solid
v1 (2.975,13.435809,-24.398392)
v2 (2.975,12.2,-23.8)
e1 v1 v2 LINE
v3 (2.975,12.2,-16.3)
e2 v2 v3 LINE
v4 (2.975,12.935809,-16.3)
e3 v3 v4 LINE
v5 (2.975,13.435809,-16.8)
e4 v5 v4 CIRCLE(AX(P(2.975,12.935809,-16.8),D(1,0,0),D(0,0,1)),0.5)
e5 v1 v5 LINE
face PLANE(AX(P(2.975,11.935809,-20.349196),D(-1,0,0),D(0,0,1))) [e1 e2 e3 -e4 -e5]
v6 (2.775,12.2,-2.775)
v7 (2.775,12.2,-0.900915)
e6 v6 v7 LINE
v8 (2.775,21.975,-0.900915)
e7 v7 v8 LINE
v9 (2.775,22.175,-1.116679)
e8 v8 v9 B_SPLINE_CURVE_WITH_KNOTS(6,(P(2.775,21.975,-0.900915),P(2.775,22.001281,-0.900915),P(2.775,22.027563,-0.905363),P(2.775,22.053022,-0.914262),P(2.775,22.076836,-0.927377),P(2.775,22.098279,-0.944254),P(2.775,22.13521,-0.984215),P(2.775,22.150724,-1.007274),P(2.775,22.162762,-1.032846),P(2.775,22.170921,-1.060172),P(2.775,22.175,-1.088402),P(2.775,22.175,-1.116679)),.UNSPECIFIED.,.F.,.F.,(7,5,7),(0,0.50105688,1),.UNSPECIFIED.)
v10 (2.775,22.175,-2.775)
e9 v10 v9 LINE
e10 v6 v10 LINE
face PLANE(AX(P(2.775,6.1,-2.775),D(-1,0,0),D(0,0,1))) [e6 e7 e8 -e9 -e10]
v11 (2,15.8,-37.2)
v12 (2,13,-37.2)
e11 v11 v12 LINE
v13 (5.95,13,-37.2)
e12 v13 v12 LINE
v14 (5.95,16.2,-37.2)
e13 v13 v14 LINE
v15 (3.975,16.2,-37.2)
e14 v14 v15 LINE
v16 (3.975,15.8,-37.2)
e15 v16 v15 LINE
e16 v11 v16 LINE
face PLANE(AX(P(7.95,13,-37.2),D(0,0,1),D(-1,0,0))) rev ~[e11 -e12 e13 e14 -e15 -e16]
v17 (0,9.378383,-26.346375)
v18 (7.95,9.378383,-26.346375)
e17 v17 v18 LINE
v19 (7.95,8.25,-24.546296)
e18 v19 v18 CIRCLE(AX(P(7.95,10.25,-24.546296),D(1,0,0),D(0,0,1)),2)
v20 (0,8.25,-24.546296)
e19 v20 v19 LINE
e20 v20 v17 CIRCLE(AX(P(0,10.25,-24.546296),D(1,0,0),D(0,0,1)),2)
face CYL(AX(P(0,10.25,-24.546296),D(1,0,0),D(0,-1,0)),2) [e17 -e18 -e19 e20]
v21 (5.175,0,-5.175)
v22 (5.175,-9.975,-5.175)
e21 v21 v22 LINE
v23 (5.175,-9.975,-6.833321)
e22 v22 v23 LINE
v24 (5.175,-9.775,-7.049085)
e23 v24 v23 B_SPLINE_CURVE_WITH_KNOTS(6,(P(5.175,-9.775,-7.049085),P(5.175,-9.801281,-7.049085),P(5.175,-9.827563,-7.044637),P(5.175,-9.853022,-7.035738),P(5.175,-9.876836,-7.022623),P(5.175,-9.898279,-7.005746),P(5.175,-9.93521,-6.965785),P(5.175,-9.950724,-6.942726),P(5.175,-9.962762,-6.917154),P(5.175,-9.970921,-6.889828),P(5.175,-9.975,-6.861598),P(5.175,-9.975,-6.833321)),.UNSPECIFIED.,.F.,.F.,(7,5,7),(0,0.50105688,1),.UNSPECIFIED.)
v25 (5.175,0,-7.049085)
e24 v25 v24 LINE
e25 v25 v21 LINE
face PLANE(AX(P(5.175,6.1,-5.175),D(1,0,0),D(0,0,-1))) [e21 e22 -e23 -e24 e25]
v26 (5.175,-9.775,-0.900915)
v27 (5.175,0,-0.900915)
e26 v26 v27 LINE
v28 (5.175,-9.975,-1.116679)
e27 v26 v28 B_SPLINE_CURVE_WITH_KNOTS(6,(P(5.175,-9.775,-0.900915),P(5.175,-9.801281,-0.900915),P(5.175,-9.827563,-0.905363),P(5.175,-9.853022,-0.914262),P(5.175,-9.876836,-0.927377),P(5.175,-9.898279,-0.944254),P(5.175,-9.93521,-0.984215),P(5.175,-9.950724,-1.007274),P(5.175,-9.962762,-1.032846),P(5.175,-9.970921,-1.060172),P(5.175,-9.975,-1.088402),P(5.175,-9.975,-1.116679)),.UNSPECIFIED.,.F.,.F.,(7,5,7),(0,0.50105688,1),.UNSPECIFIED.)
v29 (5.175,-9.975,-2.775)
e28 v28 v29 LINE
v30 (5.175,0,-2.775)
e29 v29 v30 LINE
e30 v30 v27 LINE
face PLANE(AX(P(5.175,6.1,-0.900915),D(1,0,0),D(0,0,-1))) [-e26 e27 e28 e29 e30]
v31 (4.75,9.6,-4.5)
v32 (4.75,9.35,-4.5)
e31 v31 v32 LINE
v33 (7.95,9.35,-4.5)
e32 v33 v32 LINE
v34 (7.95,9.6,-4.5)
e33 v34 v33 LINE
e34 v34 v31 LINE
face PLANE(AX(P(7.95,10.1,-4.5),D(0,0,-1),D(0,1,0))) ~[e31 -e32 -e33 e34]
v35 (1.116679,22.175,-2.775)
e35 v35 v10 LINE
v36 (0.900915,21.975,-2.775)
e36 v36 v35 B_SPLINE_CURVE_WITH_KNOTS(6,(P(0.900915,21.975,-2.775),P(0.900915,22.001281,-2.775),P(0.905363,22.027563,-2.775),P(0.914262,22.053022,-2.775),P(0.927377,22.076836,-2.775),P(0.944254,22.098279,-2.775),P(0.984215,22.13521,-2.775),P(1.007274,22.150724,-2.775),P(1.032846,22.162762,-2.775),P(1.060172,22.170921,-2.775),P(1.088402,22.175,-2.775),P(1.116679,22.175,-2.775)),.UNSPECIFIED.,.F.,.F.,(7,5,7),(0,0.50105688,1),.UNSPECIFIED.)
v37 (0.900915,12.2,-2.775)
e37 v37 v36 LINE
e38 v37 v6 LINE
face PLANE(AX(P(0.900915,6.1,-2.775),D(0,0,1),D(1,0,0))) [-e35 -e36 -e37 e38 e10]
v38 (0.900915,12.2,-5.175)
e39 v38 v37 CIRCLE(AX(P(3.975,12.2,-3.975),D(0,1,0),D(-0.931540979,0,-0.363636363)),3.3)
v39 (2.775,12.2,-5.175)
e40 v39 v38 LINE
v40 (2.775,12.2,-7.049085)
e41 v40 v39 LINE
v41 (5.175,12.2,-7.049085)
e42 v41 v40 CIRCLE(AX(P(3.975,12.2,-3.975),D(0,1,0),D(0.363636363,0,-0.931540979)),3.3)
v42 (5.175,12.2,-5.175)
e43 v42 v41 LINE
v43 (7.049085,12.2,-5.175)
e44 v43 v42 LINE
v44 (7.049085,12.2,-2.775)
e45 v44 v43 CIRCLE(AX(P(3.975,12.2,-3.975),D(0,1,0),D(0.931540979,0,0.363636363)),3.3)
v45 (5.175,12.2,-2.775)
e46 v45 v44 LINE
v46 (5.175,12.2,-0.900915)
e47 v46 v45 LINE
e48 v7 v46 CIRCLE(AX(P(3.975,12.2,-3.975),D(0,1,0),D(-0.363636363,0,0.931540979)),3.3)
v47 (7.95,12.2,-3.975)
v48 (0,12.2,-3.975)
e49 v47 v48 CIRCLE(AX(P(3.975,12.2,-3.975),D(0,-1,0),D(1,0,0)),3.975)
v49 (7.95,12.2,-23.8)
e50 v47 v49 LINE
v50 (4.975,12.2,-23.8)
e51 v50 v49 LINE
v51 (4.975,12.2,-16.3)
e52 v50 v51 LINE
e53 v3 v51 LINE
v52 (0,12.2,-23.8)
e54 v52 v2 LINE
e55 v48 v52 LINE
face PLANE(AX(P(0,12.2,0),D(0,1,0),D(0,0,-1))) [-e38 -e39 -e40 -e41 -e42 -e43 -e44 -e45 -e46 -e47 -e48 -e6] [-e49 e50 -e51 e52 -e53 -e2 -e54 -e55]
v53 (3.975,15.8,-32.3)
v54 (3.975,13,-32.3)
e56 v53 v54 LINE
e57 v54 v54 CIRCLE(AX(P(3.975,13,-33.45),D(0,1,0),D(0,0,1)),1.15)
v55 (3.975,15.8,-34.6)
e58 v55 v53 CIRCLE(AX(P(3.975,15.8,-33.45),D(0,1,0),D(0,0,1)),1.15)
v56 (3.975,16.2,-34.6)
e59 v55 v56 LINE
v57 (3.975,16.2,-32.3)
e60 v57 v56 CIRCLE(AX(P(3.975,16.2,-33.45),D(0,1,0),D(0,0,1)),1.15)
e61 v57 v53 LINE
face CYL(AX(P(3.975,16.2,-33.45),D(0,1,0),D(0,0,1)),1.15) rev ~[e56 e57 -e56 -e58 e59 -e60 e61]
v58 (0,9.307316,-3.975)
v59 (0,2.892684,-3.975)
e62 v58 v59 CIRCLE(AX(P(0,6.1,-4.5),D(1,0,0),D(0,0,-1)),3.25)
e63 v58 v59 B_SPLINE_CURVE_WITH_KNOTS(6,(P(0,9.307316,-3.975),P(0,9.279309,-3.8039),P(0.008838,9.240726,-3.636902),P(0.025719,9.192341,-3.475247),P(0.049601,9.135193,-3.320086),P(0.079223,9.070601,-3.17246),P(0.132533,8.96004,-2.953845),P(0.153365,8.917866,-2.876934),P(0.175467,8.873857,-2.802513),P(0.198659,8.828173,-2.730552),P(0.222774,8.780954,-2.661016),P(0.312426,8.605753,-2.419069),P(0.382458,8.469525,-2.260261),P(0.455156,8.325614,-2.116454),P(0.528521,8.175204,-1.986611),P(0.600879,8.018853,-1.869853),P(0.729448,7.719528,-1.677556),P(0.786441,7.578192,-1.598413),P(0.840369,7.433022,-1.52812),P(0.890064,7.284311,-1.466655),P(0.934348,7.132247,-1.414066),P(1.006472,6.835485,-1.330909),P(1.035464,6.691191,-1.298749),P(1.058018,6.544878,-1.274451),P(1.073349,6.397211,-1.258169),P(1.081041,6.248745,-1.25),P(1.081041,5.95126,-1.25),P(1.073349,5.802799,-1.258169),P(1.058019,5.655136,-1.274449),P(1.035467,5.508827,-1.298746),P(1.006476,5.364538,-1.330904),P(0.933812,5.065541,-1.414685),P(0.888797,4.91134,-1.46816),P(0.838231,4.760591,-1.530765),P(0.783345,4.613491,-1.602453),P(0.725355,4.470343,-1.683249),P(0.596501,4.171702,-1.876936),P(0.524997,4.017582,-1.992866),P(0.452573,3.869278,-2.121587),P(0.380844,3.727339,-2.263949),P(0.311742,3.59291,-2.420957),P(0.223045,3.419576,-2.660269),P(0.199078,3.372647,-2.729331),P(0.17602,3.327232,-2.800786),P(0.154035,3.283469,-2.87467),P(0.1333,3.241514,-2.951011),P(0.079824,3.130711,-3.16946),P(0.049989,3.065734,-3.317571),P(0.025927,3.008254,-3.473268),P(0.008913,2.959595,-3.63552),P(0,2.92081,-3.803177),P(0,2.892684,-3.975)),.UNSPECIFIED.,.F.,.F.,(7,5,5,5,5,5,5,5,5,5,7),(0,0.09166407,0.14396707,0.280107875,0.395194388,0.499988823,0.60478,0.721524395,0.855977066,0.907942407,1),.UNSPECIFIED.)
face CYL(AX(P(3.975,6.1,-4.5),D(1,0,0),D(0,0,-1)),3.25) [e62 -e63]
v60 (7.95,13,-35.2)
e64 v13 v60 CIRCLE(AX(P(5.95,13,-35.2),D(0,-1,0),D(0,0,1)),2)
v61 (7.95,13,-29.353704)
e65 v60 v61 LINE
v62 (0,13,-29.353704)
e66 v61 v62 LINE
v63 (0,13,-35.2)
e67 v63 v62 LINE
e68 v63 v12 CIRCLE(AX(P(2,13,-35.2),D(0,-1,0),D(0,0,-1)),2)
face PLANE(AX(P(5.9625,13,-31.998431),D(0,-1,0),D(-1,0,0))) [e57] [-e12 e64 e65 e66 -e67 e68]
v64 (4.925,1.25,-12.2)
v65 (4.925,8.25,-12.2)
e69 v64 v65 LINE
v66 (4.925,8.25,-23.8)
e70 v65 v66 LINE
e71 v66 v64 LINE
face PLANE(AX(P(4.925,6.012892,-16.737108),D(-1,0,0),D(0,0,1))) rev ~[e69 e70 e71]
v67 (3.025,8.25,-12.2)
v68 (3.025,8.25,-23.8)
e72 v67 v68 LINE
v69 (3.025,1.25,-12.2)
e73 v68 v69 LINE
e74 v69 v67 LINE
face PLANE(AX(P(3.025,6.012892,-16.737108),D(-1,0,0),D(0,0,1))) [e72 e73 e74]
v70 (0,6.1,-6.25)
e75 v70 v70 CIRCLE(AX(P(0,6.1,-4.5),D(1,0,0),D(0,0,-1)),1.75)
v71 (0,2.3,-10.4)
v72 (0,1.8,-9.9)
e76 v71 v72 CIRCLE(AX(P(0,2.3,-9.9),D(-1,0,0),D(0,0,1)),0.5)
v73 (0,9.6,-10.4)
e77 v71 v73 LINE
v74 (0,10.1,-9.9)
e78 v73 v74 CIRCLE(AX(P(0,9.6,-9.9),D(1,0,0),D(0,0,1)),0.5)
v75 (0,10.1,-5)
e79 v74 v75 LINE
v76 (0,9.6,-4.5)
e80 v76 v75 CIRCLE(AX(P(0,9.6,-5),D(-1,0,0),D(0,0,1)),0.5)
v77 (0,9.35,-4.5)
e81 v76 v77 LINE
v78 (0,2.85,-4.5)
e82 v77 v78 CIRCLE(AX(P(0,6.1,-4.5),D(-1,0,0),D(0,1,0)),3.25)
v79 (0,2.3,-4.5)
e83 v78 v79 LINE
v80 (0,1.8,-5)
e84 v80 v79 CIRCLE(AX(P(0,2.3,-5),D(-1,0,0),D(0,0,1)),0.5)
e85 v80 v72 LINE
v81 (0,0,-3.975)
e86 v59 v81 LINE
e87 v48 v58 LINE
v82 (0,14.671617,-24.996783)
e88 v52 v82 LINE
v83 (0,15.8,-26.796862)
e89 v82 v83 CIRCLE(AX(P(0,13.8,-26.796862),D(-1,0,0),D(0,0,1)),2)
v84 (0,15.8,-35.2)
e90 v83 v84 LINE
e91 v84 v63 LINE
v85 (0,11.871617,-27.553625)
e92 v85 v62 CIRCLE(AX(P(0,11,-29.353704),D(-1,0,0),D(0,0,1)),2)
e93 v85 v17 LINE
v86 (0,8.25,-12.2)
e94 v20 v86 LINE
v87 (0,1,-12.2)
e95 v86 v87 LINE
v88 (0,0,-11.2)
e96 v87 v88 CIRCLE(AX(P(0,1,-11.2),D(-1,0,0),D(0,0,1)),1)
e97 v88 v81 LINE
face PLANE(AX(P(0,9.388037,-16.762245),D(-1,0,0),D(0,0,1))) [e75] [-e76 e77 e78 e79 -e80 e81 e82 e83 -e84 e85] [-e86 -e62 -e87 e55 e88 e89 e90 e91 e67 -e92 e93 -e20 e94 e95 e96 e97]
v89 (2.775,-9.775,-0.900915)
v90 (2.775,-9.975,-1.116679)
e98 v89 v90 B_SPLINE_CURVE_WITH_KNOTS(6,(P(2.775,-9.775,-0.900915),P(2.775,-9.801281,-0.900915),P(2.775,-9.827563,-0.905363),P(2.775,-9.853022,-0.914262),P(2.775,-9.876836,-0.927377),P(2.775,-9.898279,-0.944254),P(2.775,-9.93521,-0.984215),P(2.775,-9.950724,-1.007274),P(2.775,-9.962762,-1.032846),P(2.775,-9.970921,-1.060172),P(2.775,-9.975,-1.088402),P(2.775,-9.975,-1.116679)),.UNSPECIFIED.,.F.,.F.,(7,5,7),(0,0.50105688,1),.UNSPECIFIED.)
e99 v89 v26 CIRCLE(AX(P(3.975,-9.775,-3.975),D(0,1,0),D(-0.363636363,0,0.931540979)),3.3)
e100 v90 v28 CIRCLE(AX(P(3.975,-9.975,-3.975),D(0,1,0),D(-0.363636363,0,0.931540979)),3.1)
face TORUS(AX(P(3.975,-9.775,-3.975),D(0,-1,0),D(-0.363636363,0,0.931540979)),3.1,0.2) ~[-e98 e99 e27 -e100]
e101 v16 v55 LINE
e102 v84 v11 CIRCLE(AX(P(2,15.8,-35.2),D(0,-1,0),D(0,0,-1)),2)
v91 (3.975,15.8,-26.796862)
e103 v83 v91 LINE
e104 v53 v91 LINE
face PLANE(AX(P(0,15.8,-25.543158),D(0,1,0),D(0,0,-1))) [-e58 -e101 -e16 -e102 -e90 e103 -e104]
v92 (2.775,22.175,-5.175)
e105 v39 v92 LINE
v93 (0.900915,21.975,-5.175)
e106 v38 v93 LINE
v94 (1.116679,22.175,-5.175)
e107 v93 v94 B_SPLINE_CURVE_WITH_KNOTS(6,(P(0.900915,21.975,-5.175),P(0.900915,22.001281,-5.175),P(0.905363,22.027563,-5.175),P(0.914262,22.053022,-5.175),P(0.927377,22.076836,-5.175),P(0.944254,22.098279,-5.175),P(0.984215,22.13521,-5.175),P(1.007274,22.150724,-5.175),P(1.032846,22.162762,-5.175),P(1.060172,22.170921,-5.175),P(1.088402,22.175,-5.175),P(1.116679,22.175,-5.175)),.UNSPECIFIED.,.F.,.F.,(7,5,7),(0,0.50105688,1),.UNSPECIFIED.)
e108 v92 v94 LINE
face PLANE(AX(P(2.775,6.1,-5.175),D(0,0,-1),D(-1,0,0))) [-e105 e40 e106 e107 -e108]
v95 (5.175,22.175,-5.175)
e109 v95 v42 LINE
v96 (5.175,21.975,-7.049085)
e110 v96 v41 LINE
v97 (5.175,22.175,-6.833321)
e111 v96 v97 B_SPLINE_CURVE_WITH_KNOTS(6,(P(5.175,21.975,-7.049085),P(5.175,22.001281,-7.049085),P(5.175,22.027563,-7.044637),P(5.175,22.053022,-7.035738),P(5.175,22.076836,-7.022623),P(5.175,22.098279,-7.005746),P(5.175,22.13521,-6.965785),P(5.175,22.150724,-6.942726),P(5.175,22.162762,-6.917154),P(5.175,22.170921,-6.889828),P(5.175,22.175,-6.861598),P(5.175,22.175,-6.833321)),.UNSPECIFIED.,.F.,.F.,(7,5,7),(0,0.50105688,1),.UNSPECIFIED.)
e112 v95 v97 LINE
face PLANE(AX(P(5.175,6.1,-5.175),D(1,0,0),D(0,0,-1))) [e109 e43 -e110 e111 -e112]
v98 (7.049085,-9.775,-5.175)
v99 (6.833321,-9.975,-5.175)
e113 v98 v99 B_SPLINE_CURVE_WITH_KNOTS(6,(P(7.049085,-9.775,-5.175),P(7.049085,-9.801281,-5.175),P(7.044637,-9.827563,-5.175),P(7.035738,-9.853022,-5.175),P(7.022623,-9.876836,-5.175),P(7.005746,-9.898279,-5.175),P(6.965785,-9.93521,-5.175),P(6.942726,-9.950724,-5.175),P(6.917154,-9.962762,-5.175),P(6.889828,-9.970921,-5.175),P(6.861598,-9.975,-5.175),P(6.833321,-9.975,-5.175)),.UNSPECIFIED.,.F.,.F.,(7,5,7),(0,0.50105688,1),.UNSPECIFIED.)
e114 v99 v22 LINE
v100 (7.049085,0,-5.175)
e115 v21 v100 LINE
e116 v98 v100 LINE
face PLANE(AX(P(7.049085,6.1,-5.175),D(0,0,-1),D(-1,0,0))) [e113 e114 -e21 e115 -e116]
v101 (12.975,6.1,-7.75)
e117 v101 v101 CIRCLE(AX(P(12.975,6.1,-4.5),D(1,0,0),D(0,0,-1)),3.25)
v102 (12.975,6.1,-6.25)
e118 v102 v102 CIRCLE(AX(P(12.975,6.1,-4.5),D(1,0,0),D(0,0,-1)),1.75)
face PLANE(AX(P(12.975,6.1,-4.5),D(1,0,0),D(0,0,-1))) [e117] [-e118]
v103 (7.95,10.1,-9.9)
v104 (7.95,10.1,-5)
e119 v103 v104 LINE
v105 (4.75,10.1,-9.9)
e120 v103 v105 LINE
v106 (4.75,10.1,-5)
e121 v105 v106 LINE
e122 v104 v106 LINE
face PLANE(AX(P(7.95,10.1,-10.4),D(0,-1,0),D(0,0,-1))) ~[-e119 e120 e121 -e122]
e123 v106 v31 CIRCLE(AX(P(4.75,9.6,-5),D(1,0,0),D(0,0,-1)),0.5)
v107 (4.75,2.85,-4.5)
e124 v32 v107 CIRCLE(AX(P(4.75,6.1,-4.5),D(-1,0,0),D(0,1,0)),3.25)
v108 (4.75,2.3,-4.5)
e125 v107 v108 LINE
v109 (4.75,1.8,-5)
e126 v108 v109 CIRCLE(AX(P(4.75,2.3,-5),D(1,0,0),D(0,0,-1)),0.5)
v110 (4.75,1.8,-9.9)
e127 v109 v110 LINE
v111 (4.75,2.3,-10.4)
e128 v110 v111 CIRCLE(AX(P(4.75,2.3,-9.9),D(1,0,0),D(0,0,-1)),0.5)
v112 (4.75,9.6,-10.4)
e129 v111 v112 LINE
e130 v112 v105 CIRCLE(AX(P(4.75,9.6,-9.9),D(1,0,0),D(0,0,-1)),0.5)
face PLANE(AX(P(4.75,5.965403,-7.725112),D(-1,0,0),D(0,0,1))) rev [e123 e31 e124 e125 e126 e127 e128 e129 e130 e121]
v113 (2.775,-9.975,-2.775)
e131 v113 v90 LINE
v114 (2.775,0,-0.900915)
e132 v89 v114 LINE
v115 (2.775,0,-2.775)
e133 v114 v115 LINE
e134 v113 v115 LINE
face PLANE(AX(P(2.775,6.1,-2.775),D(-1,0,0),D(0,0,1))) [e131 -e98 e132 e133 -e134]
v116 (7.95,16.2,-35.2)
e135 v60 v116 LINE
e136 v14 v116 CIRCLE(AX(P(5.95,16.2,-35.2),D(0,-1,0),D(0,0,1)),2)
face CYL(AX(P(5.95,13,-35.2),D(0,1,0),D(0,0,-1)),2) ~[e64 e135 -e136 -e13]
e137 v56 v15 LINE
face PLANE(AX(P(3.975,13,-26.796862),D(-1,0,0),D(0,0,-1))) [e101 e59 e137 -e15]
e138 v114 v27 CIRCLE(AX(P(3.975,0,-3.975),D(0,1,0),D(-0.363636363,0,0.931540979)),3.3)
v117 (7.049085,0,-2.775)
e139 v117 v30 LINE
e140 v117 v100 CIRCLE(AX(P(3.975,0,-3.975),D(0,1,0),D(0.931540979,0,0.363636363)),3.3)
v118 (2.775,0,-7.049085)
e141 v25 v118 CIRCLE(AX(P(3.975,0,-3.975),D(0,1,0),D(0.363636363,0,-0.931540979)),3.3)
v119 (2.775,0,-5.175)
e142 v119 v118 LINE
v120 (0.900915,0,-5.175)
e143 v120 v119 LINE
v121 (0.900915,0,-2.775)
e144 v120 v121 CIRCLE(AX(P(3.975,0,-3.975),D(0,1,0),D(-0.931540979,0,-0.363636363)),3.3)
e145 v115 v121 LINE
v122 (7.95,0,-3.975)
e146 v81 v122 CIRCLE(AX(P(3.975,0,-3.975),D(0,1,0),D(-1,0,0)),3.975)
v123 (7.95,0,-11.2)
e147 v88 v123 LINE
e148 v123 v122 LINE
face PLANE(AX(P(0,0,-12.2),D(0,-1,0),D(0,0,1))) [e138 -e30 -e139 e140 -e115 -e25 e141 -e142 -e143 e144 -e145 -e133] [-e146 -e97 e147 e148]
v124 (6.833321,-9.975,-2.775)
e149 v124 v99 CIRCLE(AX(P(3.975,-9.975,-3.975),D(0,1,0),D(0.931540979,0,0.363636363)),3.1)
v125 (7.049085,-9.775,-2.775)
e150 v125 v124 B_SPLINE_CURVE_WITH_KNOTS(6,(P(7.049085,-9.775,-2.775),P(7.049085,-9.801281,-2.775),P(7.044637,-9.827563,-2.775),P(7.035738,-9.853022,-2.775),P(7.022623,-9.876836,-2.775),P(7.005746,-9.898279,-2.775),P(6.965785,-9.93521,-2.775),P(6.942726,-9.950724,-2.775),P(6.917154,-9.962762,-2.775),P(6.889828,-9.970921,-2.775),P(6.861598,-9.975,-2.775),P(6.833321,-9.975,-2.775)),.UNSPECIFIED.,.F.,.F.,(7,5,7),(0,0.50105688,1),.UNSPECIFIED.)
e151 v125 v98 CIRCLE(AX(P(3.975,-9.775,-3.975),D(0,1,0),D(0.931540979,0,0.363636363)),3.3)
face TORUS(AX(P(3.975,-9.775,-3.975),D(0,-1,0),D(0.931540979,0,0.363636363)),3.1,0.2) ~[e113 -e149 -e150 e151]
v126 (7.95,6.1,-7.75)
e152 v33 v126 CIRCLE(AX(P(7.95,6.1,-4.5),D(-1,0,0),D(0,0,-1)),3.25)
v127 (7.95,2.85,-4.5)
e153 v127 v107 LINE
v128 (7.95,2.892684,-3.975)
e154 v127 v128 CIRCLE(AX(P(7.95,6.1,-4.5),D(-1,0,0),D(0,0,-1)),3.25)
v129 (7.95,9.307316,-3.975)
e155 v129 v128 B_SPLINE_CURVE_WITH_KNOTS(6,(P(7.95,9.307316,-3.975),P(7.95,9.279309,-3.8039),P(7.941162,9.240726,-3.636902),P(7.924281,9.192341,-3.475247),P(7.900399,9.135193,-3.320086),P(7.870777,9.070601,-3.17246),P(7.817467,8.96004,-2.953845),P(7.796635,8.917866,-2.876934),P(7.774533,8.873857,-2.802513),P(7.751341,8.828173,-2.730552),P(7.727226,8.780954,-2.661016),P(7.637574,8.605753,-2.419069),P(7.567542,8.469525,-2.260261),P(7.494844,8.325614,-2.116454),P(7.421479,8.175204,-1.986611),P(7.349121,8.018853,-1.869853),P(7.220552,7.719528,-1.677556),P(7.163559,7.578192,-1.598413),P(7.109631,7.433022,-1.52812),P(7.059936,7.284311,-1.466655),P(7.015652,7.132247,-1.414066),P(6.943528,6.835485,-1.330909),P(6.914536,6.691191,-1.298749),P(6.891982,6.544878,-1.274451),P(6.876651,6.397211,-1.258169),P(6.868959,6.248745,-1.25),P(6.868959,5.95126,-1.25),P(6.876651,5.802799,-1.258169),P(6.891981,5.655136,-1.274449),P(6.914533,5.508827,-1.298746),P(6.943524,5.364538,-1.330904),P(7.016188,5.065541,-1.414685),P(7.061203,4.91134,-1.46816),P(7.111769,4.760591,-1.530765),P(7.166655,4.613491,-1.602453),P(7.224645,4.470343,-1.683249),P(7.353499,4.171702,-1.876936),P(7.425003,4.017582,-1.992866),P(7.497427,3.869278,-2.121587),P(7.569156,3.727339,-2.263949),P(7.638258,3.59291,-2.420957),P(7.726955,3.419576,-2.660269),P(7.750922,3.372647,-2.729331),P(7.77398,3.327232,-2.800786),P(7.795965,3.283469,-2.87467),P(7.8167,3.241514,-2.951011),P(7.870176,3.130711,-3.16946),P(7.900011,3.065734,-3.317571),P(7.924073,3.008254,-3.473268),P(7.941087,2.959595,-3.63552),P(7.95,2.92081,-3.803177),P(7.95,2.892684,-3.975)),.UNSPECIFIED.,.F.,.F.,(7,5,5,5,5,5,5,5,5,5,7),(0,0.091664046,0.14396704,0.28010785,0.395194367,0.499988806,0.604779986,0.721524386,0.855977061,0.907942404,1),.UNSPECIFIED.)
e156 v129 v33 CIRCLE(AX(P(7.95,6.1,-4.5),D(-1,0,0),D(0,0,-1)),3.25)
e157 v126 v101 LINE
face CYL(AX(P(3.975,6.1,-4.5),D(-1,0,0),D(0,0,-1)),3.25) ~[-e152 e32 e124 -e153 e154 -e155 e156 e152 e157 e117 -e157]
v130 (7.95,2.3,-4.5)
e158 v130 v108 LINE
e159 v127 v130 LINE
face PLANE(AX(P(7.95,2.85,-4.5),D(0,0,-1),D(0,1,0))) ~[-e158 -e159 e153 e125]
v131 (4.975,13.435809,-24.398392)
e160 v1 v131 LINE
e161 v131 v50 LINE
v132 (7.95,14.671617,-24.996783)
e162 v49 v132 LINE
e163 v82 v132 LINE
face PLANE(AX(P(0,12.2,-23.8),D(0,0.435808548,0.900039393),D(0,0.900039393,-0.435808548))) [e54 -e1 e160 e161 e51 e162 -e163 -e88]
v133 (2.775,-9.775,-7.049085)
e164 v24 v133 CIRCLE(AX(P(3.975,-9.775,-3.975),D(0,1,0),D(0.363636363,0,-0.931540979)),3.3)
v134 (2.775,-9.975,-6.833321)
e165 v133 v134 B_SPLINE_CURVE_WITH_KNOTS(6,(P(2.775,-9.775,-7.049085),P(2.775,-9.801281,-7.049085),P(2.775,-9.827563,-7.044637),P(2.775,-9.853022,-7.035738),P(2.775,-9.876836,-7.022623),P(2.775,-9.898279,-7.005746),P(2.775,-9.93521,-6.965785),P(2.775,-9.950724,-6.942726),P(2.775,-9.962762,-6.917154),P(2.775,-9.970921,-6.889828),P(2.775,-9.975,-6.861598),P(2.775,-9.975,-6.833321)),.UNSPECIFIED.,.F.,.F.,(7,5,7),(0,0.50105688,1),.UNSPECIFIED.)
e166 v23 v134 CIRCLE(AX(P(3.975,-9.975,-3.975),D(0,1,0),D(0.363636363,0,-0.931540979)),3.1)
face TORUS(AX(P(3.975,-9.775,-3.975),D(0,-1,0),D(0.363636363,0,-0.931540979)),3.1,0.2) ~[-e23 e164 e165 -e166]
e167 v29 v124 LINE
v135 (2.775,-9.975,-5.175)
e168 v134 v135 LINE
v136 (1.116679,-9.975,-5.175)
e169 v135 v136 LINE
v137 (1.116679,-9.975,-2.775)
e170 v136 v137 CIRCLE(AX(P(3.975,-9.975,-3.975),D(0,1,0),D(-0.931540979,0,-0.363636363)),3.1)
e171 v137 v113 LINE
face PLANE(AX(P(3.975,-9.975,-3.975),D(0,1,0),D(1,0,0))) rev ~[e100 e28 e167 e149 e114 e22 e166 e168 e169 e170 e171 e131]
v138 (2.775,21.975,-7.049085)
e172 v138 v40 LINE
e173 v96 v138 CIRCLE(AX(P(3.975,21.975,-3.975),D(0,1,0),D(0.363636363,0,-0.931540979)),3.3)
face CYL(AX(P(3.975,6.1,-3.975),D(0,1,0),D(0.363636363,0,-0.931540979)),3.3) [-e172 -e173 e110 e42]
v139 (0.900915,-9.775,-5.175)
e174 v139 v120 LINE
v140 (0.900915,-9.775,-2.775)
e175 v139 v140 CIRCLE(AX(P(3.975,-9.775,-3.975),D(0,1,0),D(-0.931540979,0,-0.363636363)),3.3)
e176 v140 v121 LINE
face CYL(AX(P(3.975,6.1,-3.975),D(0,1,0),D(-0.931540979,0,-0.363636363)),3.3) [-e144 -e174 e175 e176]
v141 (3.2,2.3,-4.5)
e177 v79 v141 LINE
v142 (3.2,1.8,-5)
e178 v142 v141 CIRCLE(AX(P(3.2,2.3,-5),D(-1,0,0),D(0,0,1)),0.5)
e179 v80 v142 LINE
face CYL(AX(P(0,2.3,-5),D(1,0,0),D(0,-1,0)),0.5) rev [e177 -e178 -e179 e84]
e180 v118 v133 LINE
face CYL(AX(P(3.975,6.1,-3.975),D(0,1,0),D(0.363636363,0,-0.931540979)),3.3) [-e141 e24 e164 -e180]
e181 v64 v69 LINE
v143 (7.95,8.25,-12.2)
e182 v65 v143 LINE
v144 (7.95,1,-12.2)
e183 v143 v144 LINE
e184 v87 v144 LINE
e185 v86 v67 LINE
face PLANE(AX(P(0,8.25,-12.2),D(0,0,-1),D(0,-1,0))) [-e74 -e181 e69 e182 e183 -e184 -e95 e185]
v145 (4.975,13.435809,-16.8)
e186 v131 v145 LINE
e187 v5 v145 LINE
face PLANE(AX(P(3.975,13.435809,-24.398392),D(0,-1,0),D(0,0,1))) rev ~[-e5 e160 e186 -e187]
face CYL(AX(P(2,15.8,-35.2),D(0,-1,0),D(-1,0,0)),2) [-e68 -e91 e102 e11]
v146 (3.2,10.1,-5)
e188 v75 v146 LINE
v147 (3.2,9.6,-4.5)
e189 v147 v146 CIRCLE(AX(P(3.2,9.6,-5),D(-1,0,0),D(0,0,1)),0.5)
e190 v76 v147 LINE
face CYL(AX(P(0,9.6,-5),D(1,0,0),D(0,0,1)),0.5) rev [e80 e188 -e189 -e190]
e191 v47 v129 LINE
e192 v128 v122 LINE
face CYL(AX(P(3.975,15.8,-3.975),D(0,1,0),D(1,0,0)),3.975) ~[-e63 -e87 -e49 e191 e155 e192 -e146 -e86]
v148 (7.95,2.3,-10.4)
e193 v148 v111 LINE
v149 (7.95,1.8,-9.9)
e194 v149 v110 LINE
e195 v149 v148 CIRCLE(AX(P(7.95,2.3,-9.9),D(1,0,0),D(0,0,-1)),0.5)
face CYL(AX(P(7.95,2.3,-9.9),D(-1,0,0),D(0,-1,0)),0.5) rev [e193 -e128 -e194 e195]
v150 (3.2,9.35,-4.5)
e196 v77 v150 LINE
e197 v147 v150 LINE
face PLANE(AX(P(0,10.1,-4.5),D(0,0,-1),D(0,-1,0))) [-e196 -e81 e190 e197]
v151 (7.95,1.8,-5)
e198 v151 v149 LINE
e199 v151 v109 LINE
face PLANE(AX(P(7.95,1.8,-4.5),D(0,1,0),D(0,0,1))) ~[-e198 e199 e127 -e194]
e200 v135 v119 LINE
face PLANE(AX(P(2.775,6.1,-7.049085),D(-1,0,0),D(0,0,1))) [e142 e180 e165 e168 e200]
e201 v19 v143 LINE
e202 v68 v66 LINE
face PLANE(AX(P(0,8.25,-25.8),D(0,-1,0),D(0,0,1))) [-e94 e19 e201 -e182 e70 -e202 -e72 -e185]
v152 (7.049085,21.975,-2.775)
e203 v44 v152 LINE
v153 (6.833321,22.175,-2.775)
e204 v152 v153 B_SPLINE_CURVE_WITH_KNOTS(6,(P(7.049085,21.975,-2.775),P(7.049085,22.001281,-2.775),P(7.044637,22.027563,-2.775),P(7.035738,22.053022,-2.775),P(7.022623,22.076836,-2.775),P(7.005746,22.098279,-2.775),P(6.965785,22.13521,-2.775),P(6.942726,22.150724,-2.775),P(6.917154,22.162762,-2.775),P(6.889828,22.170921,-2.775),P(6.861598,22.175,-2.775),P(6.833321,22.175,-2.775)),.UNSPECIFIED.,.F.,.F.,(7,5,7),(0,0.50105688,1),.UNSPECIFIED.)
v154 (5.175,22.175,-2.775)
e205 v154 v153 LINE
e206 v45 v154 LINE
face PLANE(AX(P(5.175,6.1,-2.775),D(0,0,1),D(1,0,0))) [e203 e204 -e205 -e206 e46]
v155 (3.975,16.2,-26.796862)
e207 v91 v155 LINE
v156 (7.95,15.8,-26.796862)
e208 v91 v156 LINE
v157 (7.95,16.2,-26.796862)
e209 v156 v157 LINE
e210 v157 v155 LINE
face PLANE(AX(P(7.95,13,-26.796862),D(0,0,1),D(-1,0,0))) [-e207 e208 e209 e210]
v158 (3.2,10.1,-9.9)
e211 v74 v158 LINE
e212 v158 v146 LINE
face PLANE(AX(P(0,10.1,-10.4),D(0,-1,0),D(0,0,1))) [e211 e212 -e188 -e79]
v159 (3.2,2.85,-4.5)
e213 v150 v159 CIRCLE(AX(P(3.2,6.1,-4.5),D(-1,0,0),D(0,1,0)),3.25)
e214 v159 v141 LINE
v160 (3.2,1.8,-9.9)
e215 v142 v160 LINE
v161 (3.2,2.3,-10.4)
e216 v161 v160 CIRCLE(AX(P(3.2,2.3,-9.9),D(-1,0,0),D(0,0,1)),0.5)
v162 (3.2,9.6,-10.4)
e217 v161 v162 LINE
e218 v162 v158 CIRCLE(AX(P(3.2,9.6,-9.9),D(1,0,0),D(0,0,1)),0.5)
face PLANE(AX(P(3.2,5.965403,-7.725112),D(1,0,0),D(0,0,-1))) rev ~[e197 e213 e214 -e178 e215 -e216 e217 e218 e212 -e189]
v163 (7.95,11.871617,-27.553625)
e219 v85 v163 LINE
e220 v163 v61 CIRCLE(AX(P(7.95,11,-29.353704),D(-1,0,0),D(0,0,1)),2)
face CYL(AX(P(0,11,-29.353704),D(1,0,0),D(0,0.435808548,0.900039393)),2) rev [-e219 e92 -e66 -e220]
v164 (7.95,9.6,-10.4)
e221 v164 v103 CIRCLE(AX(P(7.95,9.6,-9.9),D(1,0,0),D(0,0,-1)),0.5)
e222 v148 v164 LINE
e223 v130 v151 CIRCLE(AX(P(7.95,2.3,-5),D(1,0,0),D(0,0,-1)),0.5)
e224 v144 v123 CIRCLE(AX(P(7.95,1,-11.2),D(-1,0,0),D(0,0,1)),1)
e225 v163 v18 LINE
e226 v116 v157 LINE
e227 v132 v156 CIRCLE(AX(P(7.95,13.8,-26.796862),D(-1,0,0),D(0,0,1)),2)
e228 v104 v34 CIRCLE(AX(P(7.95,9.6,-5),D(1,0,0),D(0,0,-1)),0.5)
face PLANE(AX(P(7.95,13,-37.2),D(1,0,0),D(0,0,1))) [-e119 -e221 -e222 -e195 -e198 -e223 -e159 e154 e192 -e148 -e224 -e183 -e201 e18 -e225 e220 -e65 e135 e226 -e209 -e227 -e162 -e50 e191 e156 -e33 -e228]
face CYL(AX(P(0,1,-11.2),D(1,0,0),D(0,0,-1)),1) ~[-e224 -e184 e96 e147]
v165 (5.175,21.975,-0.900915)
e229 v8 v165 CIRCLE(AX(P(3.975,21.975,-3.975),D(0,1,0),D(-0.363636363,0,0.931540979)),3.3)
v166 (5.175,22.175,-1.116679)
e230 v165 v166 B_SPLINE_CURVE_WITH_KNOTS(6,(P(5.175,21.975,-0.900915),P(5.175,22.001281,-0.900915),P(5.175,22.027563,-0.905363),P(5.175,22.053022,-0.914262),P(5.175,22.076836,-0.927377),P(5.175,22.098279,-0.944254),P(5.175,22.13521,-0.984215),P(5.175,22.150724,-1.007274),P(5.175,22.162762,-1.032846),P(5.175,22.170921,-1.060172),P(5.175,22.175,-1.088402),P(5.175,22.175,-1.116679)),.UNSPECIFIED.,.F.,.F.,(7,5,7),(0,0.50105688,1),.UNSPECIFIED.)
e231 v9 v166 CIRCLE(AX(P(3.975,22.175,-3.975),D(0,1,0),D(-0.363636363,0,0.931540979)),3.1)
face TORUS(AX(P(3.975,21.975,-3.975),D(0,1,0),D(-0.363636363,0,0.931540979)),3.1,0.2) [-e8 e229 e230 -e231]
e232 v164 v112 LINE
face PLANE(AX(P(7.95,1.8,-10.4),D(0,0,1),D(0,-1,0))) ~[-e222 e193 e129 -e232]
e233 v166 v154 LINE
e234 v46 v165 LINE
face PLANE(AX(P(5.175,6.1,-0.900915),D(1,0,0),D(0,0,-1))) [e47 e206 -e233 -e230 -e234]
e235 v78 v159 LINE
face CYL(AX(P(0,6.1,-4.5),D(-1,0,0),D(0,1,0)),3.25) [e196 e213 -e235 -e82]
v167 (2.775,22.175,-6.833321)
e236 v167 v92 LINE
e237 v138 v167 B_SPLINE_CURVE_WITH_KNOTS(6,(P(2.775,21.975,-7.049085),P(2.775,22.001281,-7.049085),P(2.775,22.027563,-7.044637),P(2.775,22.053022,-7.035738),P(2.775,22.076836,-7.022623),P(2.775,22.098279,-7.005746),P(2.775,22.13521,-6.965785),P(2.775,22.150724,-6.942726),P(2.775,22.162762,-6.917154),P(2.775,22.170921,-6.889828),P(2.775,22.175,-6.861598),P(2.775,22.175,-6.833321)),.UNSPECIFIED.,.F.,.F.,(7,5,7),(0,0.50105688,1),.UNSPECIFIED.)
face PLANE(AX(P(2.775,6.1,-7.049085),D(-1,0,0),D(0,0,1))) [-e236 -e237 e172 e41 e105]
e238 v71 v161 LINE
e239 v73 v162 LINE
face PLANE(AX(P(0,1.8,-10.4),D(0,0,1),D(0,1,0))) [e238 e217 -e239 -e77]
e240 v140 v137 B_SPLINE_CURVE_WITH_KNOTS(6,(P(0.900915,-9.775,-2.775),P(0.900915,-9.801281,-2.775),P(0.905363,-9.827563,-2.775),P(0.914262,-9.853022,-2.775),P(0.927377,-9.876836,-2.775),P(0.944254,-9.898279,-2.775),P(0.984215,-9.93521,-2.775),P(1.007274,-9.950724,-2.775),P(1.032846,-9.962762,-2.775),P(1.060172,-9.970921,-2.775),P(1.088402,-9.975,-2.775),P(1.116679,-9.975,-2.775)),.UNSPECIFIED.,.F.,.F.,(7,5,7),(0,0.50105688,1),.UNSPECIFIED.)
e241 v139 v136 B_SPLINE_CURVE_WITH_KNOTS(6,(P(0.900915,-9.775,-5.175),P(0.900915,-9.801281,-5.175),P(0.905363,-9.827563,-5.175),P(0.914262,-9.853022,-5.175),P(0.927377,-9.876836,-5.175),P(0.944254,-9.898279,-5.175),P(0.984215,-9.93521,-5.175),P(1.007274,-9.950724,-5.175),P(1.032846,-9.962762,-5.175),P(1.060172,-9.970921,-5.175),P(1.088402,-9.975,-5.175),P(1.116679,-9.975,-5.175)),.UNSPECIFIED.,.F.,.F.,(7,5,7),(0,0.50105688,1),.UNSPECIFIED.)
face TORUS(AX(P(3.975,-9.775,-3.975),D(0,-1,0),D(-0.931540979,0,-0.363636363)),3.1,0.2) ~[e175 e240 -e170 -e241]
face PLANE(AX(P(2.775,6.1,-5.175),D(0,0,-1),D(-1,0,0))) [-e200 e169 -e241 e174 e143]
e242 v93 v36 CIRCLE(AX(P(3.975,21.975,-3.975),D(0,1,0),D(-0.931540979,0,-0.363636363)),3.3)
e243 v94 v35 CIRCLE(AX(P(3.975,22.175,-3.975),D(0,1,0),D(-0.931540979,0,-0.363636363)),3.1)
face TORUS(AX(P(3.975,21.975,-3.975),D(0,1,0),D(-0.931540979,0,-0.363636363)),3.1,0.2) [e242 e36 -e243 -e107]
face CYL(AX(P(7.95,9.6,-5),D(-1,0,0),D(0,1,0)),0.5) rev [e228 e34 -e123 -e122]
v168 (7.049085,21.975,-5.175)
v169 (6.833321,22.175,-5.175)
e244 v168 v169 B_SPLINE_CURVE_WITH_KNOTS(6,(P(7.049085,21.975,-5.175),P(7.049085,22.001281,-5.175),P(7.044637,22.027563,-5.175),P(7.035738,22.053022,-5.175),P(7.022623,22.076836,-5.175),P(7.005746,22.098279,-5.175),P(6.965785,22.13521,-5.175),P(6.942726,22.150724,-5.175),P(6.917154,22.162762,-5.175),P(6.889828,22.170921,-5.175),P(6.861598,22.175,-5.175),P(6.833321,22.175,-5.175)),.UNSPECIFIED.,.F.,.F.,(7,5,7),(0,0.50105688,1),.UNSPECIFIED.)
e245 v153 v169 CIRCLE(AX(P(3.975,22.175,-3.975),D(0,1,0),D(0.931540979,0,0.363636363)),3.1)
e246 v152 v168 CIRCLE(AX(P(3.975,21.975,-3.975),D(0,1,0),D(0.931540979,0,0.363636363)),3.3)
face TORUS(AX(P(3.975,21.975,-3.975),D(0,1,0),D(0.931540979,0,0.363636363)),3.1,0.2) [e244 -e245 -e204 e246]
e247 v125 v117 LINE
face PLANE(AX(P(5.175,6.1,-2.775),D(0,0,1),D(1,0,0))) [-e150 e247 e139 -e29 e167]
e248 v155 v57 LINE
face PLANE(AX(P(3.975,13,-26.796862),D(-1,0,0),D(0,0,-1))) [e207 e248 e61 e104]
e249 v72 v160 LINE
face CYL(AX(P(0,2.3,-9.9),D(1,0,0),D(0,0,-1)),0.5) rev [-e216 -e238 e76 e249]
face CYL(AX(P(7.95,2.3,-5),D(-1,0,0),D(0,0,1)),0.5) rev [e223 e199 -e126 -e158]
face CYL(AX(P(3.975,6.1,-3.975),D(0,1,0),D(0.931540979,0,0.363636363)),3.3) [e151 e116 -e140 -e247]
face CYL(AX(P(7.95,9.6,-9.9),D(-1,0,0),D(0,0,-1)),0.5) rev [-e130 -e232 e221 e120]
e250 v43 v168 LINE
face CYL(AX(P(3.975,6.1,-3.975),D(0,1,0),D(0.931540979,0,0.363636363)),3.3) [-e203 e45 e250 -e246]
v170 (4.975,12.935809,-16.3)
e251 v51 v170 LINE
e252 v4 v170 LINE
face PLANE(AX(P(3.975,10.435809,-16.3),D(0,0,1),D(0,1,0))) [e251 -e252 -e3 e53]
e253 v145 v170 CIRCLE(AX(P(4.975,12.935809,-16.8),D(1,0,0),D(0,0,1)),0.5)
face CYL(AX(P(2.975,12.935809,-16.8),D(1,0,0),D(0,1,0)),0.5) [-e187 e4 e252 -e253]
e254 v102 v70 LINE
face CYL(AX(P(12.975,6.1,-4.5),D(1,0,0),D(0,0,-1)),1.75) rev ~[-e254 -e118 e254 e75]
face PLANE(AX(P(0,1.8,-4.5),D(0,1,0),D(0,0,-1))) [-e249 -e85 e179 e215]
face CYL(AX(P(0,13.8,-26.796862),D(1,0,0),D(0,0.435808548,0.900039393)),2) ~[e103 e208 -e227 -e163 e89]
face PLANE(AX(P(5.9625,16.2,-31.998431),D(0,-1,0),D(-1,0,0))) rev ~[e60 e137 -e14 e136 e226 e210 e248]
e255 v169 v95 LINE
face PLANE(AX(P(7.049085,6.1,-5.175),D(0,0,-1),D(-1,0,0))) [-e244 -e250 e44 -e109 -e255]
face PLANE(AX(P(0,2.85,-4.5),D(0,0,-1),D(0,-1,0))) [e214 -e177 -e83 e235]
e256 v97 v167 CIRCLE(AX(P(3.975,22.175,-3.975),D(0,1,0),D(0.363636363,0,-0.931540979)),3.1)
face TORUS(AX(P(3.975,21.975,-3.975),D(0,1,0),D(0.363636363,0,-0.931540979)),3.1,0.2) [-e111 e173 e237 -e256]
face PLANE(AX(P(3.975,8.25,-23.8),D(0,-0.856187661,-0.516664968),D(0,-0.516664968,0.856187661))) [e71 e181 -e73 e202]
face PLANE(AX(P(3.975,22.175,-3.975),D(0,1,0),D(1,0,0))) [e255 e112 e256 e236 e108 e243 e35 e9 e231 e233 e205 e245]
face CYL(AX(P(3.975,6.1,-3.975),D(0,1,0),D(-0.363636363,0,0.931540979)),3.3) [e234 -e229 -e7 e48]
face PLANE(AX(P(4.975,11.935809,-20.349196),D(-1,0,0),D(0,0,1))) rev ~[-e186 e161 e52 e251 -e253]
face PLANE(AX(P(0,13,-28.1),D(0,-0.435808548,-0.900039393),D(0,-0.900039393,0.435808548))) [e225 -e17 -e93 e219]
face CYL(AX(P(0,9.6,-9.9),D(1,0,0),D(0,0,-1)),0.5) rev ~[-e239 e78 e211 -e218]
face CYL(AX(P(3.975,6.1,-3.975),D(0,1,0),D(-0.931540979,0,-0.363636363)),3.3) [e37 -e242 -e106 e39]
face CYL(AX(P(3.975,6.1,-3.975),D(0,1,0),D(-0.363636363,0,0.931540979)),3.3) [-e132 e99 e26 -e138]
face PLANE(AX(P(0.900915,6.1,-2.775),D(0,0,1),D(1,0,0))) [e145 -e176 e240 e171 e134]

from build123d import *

# Parameters (mm, degrees)
SALIENTE_EXTRUIR1_DEPTH             = 7.95
CORTAR_EXTRUIR1_DEPTH               = 42.190806013
SALIENTE_EXTRUIR2_DEPTH             = 0.95
REDONDEO1_R                         = 2
CROQUIS5_W                          = 8.098391508
CROQUIS5_H                          = 3
SALIENTE_EXTRUIR3_DEPTH             = 1
REDONDEO2_R                         = 0.5
REDONDEO3_R                         = 1
SALIENTE_EXTRUIR5_DEPTH             = 16.075
SALIENTE_EXTRUIR6_START             = -2.8
SALIENTE_EXTRUIR6_DEPTH             = 3.2
REDONDEO4_R                         = 2
CORTAR_EXTRUIR2_REACH               = 48.175
CROQUIS9_R                          = 1.15
REDONDEO5_R                         = 0.2
CROQUIS10_R                         = 3.25
SALIENTE_EXTRUIR7_DEPTH             = 9
SALIENTE_EXTRUIR7_DIRECTION_2_REACH = 45.49
CORTAR_EXTRUIR3_DEPTH               = 3.2
REDONDEO6_R                         = 0.5
REDONDEO6_OF_SIMETR_A4_R            = 0.5
CORTAR_EXTRUIR4_REACH               = 47.21
CROQUIS12_R                         = 1.75
CROQUIS13_W                         = 41.090174937
CROQUIS13_H                         = 34.933198672
CORTAR_EXTRUIR6_DEPTH               = 33


with BuildPart() as part:
    # Croquis1 → Saliente-Extruir1 (new body)
    with BuildSketch(Plane(origin=(0, 0, 0), x_dir=(0, 0, -1), z_dir=(1, 0, 0))):
        Polygon((0, 0), (0, 12.2), (23.8, 12.2), (25.543157895, 15.8), (37.2, 15.8), (37.2, 13), (28.1, 13), (25.8, 8.25), (12.2, 8.25), (12.2, 0), align=None)
    extrude(amount=SALIENTE_EXTRUIR1_DEPTH)

    # Croquis2 → Cortar-Extruir1 (cut, through all)
    with BuildSketch(Plane(origin=(0, 15.8, 0), x_dir=(1, 0, 0), z_dir=(0, 1, 0))):
        with BuildLine():
            Line((0, 3.975), (0, -1.023351504))
            Line((0, -1.023351504), (7.95, -1.023351504))
            Line((7.95, -1.023351504), (7.95, 3.975))
            ThreePointArc((7.95, 3.975), (3.975, 0), (0, 3.975))
        make_face()
    extrude(amount=-CORTAR_EXTRUIR1_DEPTH, mode=Mode.SUBTRACT)

    # Croquis3 → Saliente-Extruir2 (add, symmetric)
    with BuildSketch(Plane.ZY.offset(-3.975)):
        Polygon((-23.8, 8.25), (-12.2, 1.25), (-12.2, 8.25), align=None)
    extrude(amount=SALIENTE_EXTRUIR2_DEPTH, both=True)

    # Redondeo1
    redondeo1_edges = [part.edges().sort_by_distance(p)[0] for p in [
        (0, 14.4, -37.2),
        (3.975, 15.8, -25.543157895),
        (3.975, 13, -28.1),
        (3.975, 8.25, -25.8),
        (7.95, 14.4, -37.2),
    ]]
    fillet(redondeo1_edges, radius=REDONDEO1_R)

    # Croquis5 → Saliente-Extruir3 (add, symmetric)
    with BuildSketch(Plane.ZY.offset(-3.975)):
        with Locations((-20.349195754, 11.935808548)):
            Rectangle(CROQUIS5_W, CROQUIS5_H)
    extrude(amount=SALIENTE_EXTRUIR3_DEPTH, both=True)

    # Redondeo2
    redondeo2_edges = [part.edges().sort_by_distance(p)[0] for p in [
        (3.975, 13.435808548, -16.3),
    ]]
    fillet(redondeo2_edges, radius=REDONDEO2_R)

    # Redondeo3
    redondeo3_edges = [part.edges().sort_by_distance(p)[0] for p in [
        (3.975, 0, -12.2),
    ]]
    fillet(redondeo3_edges, radius=REDONDEO3_R)

    # Croquis6 → Saliente-Extruir5 (add, symmetric)
    with BuildSketch(Plane(origin=(0, 6.1, 0), x_dir=(1, 0, 0), z_dir=(0, 1, 0))):
        with BuildLine():
            Line((2.775, 7.04908523), (2.775, 5.175))
            Line((2.775, 5.175), (0.90091477, 5.175))
            ThreePointArc((0.90091477, 5.175), (0.675, 3.975), (0.90091477, 2.775))
            Line((0.90091477, 2.775), (2.775, 2.775))
            Line((2.775, 2.775), (2.775, 0.90091477))
            ThreePointArc((2.775, 0.90091477), (3.975, 0.675), (5.175, 0.90091477))
            Line((5.175, 0.90091477), (5.175, 2.775))
            Line((5.175, 2.775), (7.04908523, 2.775))
            ThreePointArc((7.04908523, 2.775), (7.275, 3.975), (7.04908523, 5.175))
            Line((7.04908523, 5.175), (5.175, 5.175))
            Line((5.175, 5.175), (5.175, 7.04908523))
            ThreePointArc((5.175, 7.04908523), (3.975, 7.275), (2.775, 7.04908523))
        make_face()
    extrude(amount=SALIENTE_EXTRUIR5_DEPTH, both=True)

    # Croquis8 → Saliente-Extruir6 (add)
    with BuildSketch(Plane(origin=(0, 15.8, 0), x_dir=(1, 0, 0), z_dir=(0, 1, 0)).offset(SALIENTE_EXTRUIR6_START)):
        Polygon((3.975, 37.2), (5.95, 37.2), (7.95, 37.2), (7.95, 26.796861802), (3.975, 26.796861802), align=None)
    extrude(amount=SALIENTE_EXTRUIR6_DEPTH)

    # Redondeo4
    redondeo4_edges = [part.edges().sort_by_distance(p)[0] for p in [
        (7.95, 14.6, -37.2),
    ]]
    fillet(redondeo4_edges, radius=REDONDEO4_R)

    # Croquis9 → Cortar-Extruir2 (cut, up to next)
    with BuildSketch(Plane(origin=(0, 16.2, 0), x_dir=(1, 0, 0), z_dir=(0, 1, 0)), mode=Mode.PRIVATE) as cortar_extruir2_sk1:
        with Locations(Location((3.975, 33.45, 0), (0, 0, 270))):
            Circle(CROQUIS9_R)
    cortar_extruir2_tool1 = extrude(cortar_extruir2_sk1.sketch, amount=-CORTAR_EXTRUIR2_REACH, mode=Mode.PRIVATE) & part.part
    add(cortar_extruir2_tool1.solids().sort_by_distance((3.975, 16.2, -33.45))[0], mode=Mode.SUBTRACT)

    # Redondeo5
    redondeo5_edges = [part.edges().sort_by_distance(p)[0] for p in [
        (3.975, -9.975, -7.275),
        (0.675, -9.975, -3.975),
        (3.975, -9.975, -0.675),
        (7.275, -9.975, -3.975),
        (3.975, 22.175, -7.275),
        (0.675, 22.175, -3.975),
        (3.975, 22.175, -0.675),
        (7.275, 22.175, -3.975),
    ]]
    fillet(redondeo5_edges, radius=REDONDEO5_R)

    # Croquis10 → Saliente-Extruir7 (add)
    with BuildSketch(Plane(origin=(3.975, 0, 0), x_dir=(0, 0, -1), z_dir=(1, 0, 0))):
        with Locations((4.5, 6.1)):
            Circle(CROQUIS10_R)
    extrude(amount=SALIENTE_EXTRUIR7_DEPTH)

    # Saliente-Extruir7 direction 2: up to this face of the body (flat: up to its plane)
    saliente_extruir7_direction_2_end = Plane(part.part.faces().sort_by_distance((0, 8.735177915, -15.168906587))[0])
    # Croquis10 → Saliente-Extruir7 direction 2 (add, up to the picked face)
    with BuildSketch(Plane(origin=(3.975, 0, 0), x_dir=(0, 0, -1), z_dir=(1, 0, 0)), mode=Mode.PRIVATE) as saliente_extruir7_direction_2_sk1:
        with Locations((4.5, 6.1)):
            Circle(CROQUIS10_R)
    saliente_extruir7_direction_2_tool1 = split(extrude(saliente_extruir7_direction_2_sk1.sketch, amount=-SALIENTE_EXTRUIR7_DIRECTION_2_REACH, mode=Mode.PRIVATE), bisect_by=saliente_extruir7_direction_2_end, keep=Keep.BOTH, mode=Mode.PRIVATE)
    add(saliente_extruir7_direction_2_tool1.solids().sort_by(Axis((3.975, 6.1, -4.5), (-1, 0, 0)))[0])

    # Croquis11 → Cortar-Extruir3 (cut)
    with BuildSketch(Plane.ZY):
        with BuildLine():
            Line((-10.4, 10.1), (-4.5, 10.1))
            Line((-4.5, 10.1), (-4.5, 9.35))
            ThreePointArc((-4.5, 9.35), (-7.75, 6.1), (-4.5, 2.85))
            Line((-4.5, 2.85), (-4.5, 1.8))
            Line((-4.5, 1.8), (-10.4, 1.8))
            Line((-10.4, 1.8), (-10.4, 10.1))
        make_face()
    cortar_extruir3 = extrude(amount=-CORTAR_EXTRUIR3_DEPTH, mode=Mode.SUBTRACT)

    # Redondeo6
    redondeo6_edges = [part.edges().sort_by_distance(p)[0] for p in [
        (1.6, 1.8, -10.4),
        (1.6, 10.1, -10.4),
        (1.6, 10.1, -4.5),
        (1.6, 1.8, -4.5),
    ]]
    fillet(redondeo6_edges, radius=REDONDEO6_R)

    # Simetría4: Cortar-Extruir3 across plane
    add(cortar_extruir3.mirror(Plane(origin=(3.975, 0, 0), x_dir=(0, 0, 1), z_dir=(1, 0, 0))), mode=Mode.SUBTRACT)

    # Redondeo6 of Simetría4
    redondeo6_of_simetr_a4_edges = [part.edges().sort_by_distance(p)[0] for p in [
        (6.35, 1.8, -10.4),
        (6.35, 10.1, -10.4),
        (6.35, 10.1, -4.5),
        (6.35, 1.8, -4.5),
    ]]
    fillet(redondeo6_of_simetr_a4_edges, radius=REDONDEO6_OF_SIMETR_A4_R)

    # Croquis12 → Cortar-Extruir4 (cut, up to next)
    with BuildSketch(Plane(origin=(12.975, 0, 0), x_dir=(0, 0, -1), z_dir=(1, 0, 0)), mode=Mode.PRIVATE) as cortar_extruir4_sk1:
        with Locations((4.5, 6.1)):
            Circle(CROQUIS12_R)
    cortar_extruir4_tool1 = extrude(cortar_extruir4_sk1.sketch, amount=-CORTAR_EXTRUIR4_REACH, mode=Mode.PRIVATE) & part.part
    add(cortar_extruir4_tool1.solids().sort_by_distance((12.975, 6.1, -4.5))[0], mode=Mode.SUBTRACT)


with BuildPart() as body_2:
    # Simetría6: mirrored copy
    add(part.part.mirror(Plane.ZY.offset(10)))

    # Croquis13 → Cortar-Extruir6 (cut)
    with BuildSketch(Plane(origin=(-10, 0, 0), x_dir=(0, 0, -1), z_dir=(1, 0, 0))):
        with Locations((19.577078705, 6.209166246)):
            Rectangle(CROQUIS13_W, CROQUIS13_H)
    extrude(amount=-CORTAR_EXTRUIR6_DEPTH, mode=Mode.SUBTRACT)


solid = part.part
